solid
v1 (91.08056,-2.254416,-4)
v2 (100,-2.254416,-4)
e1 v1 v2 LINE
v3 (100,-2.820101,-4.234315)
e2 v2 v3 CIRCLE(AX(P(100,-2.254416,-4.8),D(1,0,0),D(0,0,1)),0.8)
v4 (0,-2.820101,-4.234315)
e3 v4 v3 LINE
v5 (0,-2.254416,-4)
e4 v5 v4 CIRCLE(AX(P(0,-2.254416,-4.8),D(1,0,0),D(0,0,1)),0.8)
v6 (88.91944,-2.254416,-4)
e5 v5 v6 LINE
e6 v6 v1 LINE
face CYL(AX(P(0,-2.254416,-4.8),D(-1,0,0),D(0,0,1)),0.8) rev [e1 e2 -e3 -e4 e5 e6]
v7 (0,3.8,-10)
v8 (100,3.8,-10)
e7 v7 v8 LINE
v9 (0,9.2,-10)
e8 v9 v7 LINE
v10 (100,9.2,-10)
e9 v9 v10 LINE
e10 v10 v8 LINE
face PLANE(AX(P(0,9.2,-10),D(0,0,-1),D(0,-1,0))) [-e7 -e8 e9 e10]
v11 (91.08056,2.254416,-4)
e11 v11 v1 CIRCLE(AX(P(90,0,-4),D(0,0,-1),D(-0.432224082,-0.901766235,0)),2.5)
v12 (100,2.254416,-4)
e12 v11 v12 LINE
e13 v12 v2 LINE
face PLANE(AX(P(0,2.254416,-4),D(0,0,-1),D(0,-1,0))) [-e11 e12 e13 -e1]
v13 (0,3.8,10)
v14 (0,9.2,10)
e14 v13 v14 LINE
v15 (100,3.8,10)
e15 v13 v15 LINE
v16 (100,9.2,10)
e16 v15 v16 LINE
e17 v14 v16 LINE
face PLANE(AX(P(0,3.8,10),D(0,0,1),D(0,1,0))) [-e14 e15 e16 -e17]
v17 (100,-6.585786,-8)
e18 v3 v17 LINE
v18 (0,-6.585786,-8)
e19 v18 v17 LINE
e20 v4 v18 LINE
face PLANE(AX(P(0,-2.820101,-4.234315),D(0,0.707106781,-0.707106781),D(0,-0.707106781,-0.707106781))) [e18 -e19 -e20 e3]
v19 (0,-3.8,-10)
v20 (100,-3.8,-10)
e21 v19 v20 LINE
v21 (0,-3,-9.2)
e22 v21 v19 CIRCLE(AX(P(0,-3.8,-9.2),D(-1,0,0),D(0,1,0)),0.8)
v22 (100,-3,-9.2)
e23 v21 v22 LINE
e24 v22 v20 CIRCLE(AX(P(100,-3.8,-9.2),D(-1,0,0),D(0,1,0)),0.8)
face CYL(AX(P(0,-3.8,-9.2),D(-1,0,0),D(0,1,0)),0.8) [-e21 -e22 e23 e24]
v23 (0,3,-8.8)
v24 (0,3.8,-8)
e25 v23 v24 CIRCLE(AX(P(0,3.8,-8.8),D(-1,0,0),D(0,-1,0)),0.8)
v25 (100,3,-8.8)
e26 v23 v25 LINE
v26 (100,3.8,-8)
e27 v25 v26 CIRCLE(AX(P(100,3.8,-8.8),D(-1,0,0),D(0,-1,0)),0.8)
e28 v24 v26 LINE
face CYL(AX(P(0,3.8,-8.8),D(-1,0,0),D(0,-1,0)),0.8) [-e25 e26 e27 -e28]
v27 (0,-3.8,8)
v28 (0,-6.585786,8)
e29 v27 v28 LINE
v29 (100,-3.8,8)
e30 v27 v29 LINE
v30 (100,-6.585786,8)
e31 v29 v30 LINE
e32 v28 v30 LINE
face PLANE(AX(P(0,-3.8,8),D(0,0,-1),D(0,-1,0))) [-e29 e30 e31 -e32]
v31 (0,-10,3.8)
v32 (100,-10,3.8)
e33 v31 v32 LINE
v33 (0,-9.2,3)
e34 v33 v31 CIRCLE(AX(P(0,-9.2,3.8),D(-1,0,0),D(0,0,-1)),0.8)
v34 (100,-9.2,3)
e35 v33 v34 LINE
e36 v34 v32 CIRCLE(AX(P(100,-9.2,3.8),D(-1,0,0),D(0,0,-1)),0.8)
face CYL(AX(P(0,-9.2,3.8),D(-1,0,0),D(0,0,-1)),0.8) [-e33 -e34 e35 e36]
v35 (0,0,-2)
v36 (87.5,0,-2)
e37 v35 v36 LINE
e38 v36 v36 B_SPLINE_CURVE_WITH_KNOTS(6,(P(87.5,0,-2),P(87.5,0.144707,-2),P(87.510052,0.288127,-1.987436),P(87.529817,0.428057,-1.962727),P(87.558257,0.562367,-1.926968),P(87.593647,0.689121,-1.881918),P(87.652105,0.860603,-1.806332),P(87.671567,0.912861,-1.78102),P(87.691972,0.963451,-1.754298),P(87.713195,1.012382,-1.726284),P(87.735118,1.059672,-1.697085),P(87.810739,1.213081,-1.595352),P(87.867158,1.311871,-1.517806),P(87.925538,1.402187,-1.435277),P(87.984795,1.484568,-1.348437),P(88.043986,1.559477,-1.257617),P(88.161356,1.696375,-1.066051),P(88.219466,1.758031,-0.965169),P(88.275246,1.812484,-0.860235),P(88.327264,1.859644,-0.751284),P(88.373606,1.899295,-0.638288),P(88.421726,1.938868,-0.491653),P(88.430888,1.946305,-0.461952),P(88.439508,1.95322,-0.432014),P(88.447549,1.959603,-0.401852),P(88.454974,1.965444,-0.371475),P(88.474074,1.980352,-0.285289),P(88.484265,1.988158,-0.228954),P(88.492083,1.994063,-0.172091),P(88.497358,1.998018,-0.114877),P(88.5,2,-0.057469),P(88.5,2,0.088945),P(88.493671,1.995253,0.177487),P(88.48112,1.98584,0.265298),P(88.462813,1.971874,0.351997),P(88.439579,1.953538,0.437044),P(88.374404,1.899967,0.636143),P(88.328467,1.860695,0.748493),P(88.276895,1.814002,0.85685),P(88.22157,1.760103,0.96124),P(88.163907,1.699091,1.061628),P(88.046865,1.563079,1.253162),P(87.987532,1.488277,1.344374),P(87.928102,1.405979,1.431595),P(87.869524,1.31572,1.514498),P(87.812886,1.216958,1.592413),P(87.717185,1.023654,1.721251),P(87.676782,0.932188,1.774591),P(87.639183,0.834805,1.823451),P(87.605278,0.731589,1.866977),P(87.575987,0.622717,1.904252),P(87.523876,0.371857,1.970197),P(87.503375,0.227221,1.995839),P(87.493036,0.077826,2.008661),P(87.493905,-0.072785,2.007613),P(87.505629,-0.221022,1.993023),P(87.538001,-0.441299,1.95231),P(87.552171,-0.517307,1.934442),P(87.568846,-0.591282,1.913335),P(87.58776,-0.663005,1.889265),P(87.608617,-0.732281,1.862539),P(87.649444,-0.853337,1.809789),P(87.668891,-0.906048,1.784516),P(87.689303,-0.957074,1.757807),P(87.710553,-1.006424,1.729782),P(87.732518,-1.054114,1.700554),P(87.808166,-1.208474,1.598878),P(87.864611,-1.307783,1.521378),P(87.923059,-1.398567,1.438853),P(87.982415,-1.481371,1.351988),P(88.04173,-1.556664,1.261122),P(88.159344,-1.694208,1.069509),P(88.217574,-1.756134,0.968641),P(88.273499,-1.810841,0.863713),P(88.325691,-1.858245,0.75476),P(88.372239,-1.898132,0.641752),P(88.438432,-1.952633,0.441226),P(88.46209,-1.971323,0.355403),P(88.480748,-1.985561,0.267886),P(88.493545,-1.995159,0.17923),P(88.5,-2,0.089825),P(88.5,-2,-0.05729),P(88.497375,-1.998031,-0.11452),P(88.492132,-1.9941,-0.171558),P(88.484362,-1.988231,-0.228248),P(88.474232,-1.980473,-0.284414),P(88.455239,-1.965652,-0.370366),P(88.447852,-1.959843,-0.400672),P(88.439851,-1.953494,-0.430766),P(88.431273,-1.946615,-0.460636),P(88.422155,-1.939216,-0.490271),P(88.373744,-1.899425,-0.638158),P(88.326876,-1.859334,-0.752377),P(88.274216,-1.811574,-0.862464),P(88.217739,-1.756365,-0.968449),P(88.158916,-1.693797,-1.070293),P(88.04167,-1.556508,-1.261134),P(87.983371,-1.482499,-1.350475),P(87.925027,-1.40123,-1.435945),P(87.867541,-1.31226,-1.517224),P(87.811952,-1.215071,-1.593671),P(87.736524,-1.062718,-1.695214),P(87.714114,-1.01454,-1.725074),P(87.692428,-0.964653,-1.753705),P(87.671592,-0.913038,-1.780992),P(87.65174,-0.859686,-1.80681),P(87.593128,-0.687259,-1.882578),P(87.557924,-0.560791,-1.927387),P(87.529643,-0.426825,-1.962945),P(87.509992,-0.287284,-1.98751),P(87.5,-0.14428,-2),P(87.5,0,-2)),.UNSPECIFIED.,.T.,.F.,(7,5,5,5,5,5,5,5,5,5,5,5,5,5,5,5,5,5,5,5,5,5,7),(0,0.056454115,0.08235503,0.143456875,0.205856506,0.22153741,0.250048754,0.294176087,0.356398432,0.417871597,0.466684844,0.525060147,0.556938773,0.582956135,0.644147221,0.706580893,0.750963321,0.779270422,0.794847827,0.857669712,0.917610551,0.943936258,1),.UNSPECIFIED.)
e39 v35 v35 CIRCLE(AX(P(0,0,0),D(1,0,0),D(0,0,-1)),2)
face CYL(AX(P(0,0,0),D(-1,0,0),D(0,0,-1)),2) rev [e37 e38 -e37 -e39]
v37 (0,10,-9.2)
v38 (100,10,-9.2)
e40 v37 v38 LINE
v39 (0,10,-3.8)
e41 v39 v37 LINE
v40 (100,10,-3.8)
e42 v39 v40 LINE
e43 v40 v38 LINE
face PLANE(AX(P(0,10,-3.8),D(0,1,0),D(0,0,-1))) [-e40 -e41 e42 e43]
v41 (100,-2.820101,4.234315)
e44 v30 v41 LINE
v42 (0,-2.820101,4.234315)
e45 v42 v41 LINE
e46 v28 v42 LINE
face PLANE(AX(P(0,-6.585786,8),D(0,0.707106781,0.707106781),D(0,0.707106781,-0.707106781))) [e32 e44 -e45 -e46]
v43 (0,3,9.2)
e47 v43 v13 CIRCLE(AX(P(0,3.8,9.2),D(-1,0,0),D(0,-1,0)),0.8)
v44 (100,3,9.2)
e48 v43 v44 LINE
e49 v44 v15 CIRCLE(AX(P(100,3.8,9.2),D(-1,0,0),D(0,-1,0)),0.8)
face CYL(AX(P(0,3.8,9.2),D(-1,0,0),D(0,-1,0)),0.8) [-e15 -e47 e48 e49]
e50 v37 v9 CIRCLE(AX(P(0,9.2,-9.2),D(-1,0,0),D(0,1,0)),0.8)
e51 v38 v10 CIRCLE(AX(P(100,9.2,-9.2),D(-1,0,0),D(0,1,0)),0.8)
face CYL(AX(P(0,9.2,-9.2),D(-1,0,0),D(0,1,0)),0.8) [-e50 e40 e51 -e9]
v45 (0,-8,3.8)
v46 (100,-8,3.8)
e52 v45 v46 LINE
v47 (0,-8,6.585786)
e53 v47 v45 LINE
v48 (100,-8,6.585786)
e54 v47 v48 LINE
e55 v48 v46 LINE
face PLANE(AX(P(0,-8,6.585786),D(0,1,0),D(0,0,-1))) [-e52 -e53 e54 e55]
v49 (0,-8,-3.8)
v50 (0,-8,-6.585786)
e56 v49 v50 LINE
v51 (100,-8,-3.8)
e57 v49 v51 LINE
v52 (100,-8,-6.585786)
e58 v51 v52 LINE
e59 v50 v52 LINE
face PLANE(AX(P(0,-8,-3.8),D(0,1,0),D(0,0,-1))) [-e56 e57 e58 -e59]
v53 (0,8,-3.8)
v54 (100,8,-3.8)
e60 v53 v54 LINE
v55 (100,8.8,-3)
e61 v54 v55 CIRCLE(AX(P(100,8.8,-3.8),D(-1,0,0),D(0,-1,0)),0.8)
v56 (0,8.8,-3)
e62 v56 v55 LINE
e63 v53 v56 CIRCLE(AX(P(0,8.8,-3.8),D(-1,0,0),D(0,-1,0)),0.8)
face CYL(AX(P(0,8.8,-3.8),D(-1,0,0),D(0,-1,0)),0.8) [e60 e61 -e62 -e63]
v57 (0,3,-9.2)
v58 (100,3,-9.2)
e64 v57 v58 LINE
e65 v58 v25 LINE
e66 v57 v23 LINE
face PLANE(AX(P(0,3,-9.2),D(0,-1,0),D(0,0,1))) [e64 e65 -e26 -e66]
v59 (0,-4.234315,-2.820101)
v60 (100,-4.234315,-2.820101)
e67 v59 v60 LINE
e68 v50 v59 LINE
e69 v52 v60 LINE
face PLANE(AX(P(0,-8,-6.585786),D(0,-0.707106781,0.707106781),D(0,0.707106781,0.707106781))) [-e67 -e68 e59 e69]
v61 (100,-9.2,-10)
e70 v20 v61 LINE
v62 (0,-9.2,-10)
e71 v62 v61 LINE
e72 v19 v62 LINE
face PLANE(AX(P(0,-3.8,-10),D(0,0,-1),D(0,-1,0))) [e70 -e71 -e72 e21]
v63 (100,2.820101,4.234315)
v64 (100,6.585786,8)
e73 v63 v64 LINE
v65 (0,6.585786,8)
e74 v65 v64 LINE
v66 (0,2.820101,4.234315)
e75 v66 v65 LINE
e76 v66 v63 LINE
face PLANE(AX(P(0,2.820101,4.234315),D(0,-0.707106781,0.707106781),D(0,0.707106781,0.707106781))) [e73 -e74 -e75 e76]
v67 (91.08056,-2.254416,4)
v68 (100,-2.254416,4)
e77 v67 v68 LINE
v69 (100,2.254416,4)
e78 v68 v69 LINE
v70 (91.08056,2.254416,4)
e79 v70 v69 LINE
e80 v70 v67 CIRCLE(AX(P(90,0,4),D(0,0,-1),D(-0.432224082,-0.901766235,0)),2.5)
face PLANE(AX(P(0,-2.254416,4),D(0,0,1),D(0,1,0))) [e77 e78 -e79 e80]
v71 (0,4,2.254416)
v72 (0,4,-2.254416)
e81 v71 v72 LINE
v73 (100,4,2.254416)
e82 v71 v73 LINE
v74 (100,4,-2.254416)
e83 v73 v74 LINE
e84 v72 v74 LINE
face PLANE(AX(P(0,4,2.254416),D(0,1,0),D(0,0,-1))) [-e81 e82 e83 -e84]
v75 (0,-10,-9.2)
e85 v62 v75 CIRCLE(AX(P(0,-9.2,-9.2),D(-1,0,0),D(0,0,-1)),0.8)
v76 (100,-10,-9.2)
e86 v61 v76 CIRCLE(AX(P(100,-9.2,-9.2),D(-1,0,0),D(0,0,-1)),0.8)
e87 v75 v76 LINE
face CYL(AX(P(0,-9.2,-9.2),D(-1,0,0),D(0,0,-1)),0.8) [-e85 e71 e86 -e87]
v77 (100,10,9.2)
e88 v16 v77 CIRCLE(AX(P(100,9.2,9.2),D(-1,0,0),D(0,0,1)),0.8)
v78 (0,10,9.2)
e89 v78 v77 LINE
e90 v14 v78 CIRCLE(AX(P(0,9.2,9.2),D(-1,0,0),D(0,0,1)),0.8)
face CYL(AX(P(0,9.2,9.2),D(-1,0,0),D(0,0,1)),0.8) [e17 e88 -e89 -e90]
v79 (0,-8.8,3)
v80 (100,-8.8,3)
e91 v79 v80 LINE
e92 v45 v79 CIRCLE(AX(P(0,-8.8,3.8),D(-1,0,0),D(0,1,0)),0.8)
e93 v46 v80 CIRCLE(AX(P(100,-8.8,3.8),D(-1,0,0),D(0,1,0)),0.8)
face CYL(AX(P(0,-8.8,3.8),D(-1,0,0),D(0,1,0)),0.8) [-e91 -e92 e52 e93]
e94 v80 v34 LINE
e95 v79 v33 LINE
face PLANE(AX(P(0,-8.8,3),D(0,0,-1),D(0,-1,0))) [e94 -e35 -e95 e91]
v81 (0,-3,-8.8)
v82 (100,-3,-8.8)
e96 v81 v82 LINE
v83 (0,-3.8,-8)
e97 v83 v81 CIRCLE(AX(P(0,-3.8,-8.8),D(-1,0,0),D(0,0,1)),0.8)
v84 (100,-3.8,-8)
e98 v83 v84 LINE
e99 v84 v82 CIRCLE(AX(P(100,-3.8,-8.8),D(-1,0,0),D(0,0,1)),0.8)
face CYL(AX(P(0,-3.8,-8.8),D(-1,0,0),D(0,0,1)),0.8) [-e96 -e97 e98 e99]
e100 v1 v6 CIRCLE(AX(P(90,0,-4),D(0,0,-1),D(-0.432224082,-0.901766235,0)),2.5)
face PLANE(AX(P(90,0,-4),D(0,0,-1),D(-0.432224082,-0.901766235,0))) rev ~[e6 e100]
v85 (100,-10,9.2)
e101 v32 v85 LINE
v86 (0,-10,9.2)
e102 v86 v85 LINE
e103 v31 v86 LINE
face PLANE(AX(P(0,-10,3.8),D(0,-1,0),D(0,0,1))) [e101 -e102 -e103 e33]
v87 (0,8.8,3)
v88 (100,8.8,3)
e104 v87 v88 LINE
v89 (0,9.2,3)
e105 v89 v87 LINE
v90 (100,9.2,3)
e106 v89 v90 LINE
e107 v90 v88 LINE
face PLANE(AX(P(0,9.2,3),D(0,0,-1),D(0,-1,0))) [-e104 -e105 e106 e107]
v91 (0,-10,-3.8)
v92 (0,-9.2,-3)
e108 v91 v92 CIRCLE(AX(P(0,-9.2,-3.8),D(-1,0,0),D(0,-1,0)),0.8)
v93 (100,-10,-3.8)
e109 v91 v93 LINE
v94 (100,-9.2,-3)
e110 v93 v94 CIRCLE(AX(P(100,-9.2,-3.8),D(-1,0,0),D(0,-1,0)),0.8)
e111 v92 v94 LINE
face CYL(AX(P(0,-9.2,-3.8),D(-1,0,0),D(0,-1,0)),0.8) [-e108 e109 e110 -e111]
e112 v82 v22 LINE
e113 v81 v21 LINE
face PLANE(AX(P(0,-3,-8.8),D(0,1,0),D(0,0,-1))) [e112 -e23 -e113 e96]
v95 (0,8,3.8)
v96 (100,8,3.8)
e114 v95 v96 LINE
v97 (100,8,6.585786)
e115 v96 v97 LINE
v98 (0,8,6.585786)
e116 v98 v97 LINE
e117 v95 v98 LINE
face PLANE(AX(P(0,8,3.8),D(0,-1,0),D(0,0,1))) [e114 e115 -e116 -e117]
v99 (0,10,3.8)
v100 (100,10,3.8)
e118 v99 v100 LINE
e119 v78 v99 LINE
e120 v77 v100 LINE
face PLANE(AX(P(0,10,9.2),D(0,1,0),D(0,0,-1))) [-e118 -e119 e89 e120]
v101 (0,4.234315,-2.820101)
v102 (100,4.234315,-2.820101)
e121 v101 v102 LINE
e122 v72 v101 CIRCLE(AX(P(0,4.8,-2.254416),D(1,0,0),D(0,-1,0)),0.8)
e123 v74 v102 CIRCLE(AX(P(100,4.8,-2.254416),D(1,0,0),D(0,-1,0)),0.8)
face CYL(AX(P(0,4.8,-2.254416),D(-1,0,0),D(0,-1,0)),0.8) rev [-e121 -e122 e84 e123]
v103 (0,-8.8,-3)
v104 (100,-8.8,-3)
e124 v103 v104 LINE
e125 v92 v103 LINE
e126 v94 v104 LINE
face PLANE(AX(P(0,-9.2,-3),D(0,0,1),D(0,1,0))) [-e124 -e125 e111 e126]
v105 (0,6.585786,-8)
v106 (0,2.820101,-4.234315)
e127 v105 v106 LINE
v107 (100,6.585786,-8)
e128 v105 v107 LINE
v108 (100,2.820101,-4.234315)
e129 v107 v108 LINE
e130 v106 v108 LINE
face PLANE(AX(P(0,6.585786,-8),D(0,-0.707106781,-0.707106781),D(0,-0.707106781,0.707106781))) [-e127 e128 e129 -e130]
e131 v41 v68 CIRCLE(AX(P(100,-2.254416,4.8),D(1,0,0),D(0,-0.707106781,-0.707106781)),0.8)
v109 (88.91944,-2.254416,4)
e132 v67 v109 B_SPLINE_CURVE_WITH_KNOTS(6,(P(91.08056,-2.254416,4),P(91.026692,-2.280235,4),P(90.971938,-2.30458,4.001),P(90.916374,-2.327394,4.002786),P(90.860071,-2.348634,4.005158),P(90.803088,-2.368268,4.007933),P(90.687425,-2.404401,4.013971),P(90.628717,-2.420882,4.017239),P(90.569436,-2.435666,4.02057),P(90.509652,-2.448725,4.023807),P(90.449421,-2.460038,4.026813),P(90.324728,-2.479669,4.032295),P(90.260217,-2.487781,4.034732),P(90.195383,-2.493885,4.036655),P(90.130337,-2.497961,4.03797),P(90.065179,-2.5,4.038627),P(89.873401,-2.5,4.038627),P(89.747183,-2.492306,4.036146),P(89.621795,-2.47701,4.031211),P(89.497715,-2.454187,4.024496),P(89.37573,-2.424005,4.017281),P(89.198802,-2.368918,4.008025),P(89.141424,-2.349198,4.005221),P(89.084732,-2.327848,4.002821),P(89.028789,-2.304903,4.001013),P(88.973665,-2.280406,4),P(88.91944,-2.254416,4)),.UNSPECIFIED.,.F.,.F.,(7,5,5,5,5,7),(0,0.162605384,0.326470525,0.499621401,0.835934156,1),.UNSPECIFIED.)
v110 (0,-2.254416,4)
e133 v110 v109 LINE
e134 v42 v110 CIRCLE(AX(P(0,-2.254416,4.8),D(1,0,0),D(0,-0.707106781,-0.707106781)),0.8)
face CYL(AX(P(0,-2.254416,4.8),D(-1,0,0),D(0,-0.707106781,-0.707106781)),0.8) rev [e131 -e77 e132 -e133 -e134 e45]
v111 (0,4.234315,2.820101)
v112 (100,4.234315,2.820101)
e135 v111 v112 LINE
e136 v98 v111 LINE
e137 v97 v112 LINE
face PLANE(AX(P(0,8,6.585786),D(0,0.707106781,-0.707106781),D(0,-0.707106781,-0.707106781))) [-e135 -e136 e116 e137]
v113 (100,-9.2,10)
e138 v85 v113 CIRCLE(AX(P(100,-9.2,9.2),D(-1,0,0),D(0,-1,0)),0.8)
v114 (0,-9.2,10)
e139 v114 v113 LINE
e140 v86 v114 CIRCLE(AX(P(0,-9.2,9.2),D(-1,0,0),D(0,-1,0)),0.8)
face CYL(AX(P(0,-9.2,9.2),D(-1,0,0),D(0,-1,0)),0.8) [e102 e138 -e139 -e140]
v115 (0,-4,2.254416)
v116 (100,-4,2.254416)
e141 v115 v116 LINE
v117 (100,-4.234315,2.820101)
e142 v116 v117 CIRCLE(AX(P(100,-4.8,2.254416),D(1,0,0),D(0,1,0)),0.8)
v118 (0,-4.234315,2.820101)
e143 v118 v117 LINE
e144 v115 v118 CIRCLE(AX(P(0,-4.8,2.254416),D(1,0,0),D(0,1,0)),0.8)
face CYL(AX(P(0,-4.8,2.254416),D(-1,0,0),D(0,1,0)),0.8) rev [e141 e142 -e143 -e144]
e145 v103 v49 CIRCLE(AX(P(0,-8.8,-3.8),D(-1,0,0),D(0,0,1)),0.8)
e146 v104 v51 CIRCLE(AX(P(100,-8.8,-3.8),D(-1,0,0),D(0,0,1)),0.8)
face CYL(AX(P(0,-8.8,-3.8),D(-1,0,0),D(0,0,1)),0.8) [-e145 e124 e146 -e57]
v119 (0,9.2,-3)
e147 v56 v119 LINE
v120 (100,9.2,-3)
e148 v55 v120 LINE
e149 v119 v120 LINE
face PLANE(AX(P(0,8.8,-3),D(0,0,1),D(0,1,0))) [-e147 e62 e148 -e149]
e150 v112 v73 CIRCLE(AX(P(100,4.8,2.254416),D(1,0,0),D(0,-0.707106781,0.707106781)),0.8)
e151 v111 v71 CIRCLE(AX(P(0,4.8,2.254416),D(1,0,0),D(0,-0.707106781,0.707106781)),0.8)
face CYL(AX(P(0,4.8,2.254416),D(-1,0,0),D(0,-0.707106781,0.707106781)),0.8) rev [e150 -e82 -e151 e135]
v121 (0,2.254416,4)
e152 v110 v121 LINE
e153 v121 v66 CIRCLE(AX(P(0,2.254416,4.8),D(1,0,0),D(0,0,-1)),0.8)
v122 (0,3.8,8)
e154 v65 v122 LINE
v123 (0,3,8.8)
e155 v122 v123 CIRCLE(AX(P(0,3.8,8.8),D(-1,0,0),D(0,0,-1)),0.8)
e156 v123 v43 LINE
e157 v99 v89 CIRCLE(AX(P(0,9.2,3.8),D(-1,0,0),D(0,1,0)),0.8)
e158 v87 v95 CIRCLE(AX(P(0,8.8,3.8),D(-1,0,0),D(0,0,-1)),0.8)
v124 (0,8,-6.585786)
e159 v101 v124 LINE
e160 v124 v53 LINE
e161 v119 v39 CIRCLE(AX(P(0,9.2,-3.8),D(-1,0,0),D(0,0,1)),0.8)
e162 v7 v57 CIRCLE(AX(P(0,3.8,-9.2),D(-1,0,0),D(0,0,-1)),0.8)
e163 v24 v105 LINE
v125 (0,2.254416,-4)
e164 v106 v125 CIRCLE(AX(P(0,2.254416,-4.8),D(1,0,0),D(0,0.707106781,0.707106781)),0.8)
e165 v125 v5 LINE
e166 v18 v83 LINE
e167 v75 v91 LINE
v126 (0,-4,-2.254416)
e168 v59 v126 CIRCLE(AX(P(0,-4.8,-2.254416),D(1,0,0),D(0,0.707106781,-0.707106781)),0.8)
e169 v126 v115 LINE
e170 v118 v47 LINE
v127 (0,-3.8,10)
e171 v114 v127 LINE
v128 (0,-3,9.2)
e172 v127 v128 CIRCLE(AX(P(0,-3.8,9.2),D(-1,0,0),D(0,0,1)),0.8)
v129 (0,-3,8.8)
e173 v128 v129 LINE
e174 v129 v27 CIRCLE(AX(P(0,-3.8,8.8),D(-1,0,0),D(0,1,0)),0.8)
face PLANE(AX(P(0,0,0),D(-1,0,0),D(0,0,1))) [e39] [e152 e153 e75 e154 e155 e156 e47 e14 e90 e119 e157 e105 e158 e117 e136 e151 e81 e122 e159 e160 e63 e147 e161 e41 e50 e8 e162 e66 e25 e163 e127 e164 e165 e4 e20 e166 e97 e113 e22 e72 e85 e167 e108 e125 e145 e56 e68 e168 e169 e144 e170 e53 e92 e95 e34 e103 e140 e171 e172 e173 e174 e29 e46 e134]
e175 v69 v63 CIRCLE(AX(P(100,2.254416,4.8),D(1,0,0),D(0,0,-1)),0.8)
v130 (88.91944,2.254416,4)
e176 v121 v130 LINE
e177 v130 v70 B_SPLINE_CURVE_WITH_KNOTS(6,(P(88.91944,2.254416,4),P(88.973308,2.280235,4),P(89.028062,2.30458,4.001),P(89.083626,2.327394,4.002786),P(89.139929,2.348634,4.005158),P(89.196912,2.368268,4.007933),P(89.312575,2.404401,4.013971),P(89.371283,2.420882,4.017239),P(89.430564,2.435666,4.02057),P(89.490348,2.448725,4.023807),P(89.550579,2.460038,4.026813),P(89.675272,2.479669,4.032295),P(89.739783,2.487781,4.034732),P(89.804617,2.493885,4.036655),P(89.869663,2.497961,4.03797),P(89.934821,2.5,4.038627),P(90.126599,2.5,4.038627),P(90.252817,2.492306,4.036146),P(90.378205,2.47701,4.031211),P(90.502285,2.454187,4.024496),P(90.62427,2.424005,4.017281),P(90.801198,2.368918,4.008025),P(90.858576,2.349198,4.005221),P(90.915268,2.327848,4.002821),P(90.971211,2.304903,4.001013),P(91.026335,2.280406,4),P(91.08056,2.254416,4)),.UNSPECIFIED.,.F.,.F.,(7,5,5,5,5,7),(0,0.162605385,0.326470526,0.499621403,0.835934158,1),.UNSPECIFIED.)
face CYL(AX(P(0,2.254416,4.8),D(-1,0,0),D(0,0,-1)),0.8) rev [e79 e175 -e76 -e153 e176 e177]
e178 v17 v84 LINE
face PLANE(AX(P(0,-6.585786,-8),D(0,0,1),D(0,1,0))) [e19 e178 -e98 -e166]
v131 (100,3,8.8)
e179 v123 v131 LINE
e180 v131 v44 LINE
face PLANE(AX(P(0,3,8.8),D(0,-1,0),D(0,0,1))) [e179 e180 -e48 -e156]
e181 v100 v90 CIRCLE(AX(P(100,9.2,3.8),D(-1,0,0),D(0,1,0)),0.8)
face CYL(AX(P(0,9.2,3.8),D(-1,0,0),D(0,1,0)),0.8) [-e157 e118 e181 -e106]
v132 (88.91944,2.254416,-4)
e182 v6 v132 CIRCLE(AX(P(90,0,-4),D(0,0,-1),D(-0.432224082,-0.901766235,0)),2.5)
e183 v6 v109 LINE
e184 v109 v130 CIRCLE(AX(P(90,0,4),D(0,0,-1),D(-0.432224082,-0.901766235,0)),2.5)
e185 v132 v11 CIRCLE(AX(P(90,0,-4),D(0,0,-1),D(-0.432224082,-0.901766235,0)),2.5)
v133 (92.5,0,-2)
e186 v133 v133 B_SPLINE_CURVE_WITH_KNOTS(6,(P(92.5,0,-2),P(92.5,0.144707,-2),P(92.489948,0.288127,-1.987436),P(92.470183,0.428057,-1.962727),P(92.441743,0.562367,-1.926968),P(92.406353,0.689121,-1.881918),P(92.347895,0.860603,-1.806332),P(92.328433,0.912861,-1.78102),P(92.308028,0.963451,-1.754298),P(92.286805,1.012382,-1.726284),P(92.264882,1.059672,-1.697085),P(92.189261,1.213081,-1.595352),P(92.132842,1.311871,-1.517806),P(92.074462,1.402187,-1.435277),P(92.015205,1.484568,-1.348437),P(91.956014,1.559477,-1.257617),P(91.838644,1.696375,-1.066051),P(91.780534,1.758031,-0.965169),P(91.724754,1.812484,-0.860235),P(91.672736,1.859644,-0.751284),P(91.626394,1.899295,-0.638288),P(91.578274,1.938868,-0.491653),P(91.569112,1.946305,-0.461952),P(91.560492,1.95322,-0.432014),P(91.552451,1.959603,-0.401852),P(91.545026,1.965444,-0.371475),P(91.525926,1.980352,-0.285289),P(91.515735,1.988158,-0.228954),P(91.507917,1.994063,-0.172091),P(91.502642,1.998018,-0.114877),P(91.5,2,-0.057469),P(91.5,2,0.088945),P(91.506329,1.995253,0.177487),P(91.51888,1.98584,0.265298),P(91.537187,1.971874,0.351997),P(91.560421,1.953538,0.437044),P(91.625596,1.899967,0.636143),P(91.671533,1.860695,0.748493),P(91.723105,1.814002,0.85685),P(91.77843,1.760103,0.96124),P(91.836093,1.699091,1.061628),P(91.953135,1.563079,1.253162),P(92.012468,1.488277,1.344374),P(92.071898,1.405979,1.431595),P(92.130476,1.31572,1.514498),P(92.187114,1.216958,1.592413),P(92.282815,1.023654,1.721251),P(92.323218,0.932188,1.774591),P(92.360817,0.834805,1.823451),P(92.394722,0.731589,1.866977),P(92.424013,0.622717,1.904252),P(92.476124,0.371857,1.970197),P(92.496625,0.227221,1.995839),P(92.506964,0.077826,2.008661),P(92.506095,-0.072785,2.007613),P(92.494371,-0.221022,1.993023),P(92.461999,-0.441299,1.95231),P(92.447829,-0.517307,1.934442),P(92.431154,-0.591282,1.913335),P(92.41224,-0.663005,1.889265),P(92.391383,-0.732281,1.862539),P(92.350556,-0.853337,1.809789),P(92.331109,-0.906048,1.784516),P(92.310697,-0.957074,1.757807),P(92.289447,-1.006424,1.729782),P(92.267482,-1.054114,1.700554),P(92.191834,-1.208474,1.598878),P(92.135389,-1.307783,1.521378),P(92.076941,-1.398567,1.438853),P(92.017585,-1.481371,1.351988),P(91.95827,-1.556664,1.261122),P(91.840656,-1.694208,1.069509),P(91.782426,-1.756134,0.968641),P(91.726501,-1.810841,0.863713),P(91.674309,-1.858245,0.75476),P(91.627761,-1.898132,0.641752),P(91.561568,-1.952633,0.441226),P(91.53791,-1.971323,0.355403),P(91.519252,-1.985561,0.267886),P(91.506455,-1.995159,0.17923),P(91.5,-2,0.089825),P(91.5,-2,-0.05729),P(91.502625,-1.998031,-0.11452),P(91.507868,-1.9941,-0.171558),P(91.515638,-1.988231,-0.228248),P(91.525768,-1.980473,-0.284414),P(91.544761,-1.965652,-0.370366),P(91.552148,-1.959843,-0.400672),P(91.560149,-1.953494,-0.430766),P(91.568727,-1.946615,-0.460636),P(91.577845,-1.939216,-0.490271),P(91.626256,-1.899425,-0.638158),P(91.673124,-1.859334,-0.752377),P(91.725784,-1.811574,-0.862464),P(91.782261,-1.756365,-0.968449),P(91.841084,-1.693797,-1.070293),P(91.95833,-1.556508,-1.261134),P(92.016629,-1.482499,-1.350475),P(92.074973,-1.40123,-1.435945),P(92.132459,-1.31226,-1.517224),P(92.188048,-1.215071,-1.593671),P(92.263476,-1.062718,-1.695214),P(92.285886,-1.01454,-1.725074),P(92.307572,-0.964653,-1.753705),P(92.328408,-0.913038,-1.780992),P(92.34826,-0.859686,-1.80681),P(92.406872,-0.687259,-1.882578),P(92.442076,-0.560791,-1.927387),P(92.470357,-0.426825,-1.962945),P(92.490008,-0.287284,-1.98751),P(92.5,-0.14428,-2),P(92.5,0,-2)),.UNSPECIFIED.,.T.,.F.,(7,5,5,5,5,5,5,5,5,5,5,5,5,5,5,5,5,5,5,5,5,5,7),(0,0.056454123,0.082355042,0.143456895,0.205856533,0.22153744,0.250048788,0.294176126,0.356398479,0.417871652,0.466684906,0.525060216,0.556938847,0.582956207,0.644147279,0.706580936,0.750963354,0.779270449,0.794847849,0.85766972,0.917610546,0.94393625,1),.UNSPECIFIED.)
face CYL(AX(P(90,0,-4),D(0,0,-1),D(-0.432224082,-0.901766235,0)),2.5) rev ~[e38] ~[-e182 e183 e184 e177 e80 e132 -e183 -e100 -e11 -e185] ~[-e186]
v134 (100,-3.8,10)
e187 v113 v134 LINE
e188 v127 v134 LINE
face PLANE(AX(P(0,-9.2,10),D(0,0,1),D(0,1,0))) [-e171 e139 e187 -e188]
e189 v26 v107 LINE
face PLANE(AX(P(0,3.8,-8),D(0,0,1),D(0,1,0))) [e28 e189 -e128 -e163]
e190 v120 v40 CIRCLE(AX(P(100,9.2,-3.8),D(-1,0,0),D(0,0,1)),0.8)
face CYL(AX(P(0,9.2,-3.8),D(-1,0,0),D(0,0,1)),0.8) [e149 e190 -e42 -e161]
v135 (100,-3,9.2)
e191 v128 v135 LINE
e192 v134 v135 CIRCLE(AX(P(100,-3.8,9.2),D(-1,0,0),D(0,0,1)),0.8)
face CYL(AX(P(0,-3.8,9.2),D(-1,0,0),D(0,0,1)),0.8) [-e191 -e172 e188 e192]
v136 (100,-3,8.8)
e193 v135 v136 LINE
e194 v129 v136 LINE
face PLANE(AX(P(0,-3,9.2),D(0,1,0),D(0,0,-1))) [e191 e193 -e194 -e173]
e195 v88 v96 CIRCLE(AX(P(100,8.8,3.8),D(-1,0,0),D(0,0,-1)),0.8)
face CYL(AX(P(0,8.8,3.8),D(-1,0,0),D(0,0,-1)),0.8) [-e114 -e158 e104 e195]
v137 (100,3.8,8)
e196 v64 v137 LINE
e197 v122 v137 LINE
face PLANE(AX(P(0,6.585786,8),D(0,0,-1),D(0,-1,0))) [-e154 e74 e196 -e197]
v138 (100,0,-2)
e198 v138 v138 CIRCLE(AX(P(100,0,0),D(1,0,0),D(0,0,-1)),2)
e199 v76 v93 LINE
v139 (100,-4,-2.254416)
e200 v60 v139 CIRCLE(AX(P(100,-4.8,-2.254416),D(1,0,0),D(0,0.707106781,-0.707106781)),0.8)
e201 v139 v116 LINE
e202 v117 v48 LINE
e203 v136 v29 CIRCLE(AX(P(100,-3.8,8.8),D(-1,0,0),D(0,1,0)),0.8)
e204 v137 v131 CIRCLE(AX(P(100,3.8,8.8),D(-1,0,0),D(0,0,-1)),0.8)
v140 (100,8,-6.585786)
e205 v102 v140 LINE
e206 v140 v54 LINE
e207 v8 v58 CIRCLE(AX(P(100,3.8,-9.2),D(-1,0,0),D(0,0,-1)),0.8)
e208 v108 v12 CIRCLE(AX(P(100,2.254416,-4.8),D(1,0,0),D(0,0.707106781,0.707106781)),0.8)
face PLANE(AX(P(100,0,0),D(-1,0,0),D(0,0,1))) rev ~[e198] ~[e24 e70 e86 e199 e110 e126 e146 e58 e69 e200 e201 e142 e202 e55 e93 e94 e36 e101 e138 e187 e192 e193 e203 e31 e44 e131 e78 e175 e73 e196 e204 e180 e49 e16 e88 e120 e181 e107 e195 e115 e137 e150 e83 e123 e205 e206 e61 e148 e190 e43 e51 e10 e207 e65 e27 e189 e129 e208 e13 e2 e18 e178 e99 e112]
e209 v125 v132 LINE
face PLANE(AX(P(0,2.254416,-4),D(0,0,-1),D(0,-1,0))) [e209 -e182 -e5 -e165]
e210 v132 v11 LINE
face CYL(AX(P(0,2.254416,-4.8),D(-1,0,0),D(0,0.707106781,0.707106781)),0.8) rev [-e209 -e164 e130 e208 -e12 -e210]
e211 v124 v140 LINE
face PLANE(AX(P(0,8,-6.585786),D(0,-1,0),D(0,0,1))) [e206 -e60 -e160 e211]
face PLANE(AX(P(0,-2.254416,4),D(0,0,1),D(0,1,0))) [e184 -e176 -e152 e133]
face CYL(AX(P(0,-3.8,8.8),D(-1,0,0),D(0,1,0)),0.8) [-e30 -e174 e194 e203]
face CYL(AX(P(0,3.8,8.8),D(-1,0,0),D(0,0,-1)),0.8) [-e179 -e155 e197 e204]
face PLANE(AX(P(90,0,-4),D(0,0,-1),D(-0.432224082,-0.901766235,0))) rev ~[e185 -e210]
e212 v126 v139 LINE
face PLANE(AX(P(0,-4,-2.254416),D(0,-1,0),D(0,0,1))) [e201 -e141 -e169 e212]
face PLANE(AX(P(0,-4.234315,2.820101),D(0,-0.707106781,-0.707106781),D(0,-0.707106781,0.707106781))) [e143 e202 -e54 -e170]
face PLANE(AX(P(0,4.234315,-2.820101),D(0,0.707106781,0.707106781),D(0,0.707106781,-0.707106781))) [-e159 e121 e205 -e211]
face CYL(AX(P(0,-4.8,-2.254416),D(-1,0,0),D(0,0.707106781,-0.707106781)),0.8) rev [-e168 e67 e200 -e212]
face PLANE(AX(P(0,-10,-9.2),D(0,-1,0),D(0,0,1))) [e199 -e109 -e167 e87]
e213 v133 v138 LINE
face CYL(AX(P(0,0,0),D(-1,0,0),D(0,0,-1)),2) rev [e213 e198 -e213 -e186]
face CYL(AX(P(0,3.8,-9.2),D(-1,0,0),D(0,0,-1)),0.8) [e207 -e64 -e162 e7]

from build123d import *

# Parameters (mm, degrees)
SKETCH11_R         = 2
SIZE_4X4_1_DEPTH   = 100
SKETCH12_R         = 2.5
CUT_EXTRUDE1_DEPTH = 10


with BuildPart() as part:
    # Sketch11 → Size 4X4 (1) (new body)
    with BuildSketch(Plane(origin=(0, 0, 0), x_dir=(0, 0, -1), z_dir=(1, 0, 0))):
        with BuildLine():
            Line((-3, 9.2), (-3, 8.8))
            ThreePointArc((-3, 8.8), (-3.234314575, 8.234314575), (-3.8, 8))
            Line((-3.8, 8), (-6.585786438, 8))
            Line((-6.585786438, 8), (-2.820101013, 4.234314575))
            ThreePointArc((-2.820101013, 4.234314575), (-2.560562334, 4.060896374), (-2.254415588, 4))
            Line((-2.254415588, 4), (2.254415588, 4))
            ThreePointArc((2.254415588, 4), (2.560562334, 4.060896374), (2.820101013, 4.234314575))
            Line((2.820101013, 4.234314575), (6.585786438, 8))
            Line((6.585786438, 8), (3.8, 8))
            ThreePointArc((3.8, 8), (3.234314575, 8.234314575), (3, 8.8))
            Line((3, 8.8), (3, 9.2))
            ThreePointArc((3, 9.2), (3.234314575, 9.765685425), (3.8, 10))
            Line((3.8, 10), (9.2, 10))
            ThreePointArc((9.2, 10), (9.765685425, 9.765685425), (10, 9.2))
            Line((10, 9.2), (10, 3.8))
            ThreePointArc((10, 3.8), (9.765685425, 3.234314575), (9.2, 3))
            Line((9.2, 3), (8.8, 3))
            ThreePointArc((8.8, 3), (8.234314575, 3.234314575), (8, 3.8))
            Line((8, 3.8), (8, 6.585786438))
            Line((8, 6.585786438), (4.234314575, 2.820101013))
            ThreePointArc((4.234314575, 2.820101013), (4.060896374, 2.560562334), (4, 2.254415588))
            Line((4, 2.254415588), (4, -2.254415588))
            ThreePointArc((4, -2.254415588), (4.060896374, -2.560562334), (4.234314575, -2.820101013))
            Line((4.234314575, -2.820101013), (8, -6.585786438))
            Line((8, -6.585786438), (8, -3.8))
            ThreePointArc((8, -3.8), (8.234314575, -3.234314575), (8.8, -3))
            Line((8.8, -3), (9.2, -3))
            ThreePointArc((9.2, -3), (9.765685425, -3.234314575), (10, -3.8))
            Line((10, -3.8), (10, -9.2))
            ThreePointArc((10, -9.2), (9.765685425, -9.765685425), (9.2, -10))
            Line((9.2, -10), (3.8, -10))
            ThreePointArc((3.8, -10), (3.234314575, -9.765685425), (3, -9.2))
            Line((3, -9.2), (3, -8.8))
            ThreePointArc((3, -8.8), (3.234314575, -8.234314575), (3.8, -8))
            Line((3.8, -8), (6.585786438, -8))
            Line((6.585786438, -8), (2.820101013, -4.234314575))
            ThreePointArc((2.820101013, -4.234314575), (2.560562334, -4.060896374), (2.254415588, -4))
            Line((2.254415588, -4), (-2.254415588, -4))
            ThreePointArc((-2.254415588, -4), (-2.560562334, -4.060896374), (-2.820101013, -4.234314575))
            Line((-2.820101013, -4.234314575), (-6.585786438, -8))
            Line((-6.585786438, -8), (-3.8, -8))
            ThreePointArc((-3.8, -8), (-3.234314575, -8.234314575), (-3, -8.8))
            Line((-3, -8.8), (-3, -9.2))
            ThreePointArc((-3, -9.2), (-3.234314575, -9.765685425), (-3.8, -10))
            Line((-3.8, -10), (-9.2, -10))
            ThreePointArc((-9.2, -10), (-9.765685425, -9.765685425), (-10, -9.2))
            Line((-10, -9.2), (-10, -3.8))
            ThreePointArc((-10, -3.8), (-9.765685425, -3.234314575), (-9.2, -3))
            Line((-9.2, -3), (-8.8, -3))
            ThreePointArc((-8.8, -3), (-8.234314575, -3.234314575), (-8, -3.8))
            Line((-8, -3.8), (-8, -6.585786438))
            Line((-8, -6.585786438), (-4.234314575, -2.820101013))
            ThreePointArc((-4.234314575, -2.820101013), (-4.060896374, -2.560562334), (-4, -2.254415588))
            Line((-4, -2.254415588), (-4, 2.254415588))
            ThreePointArc((-4, 2.254415588), (-4.060896374, 2.560562334), (-4.234314575, 2.820101013))
            Line((-4.234314575, 2.820101013), (-8, 6.585786438))
            Line((-8, 6.585786438), (-8, 3.8))
            ThreePointArc((-8, 3.8), (-8.234314575, 3.234314575), (-8.8, 3))
            Line((-8.8, 3), (-9.2, 3))
            ThreePointArc((-9.2, 3), (-9.765685425, 3.234314575), (-10, 3.8))
            Line((-10, 3.8), (-10, 9.2))
            ThreePointArc((-10, 9.2), (-9.765685425, 9.765685425), (-9.2, 10))
            Line((-9.2, 10), (-3.8, 10))
            ThreePointArc((-3.8, 10), (-3.234314575, 9.765685425), (-3, 9.2))
        make_face()
        Circle(SKETCH11_R, mode=Mode.SUBTRACT)
    extrude(amount=SIZE_4X4_1_DEPTH)

    # Sketch12 → Cut-Extrude1 (cut)
    with BuildSketch(Plane(origin=(0, 0, -4), x_dir=(-1, 0, 0), z_dir=(0, 0, -1))):
        with Locations(Location((-90, 0, 0), (0, 0, 295.608789007))):
            Circle(SKETCH12_R)
    extrude(amount=-CUT_EXTRUDE1_DEPTH, mode=Mode.SUBTRACT)


solid = part.part
